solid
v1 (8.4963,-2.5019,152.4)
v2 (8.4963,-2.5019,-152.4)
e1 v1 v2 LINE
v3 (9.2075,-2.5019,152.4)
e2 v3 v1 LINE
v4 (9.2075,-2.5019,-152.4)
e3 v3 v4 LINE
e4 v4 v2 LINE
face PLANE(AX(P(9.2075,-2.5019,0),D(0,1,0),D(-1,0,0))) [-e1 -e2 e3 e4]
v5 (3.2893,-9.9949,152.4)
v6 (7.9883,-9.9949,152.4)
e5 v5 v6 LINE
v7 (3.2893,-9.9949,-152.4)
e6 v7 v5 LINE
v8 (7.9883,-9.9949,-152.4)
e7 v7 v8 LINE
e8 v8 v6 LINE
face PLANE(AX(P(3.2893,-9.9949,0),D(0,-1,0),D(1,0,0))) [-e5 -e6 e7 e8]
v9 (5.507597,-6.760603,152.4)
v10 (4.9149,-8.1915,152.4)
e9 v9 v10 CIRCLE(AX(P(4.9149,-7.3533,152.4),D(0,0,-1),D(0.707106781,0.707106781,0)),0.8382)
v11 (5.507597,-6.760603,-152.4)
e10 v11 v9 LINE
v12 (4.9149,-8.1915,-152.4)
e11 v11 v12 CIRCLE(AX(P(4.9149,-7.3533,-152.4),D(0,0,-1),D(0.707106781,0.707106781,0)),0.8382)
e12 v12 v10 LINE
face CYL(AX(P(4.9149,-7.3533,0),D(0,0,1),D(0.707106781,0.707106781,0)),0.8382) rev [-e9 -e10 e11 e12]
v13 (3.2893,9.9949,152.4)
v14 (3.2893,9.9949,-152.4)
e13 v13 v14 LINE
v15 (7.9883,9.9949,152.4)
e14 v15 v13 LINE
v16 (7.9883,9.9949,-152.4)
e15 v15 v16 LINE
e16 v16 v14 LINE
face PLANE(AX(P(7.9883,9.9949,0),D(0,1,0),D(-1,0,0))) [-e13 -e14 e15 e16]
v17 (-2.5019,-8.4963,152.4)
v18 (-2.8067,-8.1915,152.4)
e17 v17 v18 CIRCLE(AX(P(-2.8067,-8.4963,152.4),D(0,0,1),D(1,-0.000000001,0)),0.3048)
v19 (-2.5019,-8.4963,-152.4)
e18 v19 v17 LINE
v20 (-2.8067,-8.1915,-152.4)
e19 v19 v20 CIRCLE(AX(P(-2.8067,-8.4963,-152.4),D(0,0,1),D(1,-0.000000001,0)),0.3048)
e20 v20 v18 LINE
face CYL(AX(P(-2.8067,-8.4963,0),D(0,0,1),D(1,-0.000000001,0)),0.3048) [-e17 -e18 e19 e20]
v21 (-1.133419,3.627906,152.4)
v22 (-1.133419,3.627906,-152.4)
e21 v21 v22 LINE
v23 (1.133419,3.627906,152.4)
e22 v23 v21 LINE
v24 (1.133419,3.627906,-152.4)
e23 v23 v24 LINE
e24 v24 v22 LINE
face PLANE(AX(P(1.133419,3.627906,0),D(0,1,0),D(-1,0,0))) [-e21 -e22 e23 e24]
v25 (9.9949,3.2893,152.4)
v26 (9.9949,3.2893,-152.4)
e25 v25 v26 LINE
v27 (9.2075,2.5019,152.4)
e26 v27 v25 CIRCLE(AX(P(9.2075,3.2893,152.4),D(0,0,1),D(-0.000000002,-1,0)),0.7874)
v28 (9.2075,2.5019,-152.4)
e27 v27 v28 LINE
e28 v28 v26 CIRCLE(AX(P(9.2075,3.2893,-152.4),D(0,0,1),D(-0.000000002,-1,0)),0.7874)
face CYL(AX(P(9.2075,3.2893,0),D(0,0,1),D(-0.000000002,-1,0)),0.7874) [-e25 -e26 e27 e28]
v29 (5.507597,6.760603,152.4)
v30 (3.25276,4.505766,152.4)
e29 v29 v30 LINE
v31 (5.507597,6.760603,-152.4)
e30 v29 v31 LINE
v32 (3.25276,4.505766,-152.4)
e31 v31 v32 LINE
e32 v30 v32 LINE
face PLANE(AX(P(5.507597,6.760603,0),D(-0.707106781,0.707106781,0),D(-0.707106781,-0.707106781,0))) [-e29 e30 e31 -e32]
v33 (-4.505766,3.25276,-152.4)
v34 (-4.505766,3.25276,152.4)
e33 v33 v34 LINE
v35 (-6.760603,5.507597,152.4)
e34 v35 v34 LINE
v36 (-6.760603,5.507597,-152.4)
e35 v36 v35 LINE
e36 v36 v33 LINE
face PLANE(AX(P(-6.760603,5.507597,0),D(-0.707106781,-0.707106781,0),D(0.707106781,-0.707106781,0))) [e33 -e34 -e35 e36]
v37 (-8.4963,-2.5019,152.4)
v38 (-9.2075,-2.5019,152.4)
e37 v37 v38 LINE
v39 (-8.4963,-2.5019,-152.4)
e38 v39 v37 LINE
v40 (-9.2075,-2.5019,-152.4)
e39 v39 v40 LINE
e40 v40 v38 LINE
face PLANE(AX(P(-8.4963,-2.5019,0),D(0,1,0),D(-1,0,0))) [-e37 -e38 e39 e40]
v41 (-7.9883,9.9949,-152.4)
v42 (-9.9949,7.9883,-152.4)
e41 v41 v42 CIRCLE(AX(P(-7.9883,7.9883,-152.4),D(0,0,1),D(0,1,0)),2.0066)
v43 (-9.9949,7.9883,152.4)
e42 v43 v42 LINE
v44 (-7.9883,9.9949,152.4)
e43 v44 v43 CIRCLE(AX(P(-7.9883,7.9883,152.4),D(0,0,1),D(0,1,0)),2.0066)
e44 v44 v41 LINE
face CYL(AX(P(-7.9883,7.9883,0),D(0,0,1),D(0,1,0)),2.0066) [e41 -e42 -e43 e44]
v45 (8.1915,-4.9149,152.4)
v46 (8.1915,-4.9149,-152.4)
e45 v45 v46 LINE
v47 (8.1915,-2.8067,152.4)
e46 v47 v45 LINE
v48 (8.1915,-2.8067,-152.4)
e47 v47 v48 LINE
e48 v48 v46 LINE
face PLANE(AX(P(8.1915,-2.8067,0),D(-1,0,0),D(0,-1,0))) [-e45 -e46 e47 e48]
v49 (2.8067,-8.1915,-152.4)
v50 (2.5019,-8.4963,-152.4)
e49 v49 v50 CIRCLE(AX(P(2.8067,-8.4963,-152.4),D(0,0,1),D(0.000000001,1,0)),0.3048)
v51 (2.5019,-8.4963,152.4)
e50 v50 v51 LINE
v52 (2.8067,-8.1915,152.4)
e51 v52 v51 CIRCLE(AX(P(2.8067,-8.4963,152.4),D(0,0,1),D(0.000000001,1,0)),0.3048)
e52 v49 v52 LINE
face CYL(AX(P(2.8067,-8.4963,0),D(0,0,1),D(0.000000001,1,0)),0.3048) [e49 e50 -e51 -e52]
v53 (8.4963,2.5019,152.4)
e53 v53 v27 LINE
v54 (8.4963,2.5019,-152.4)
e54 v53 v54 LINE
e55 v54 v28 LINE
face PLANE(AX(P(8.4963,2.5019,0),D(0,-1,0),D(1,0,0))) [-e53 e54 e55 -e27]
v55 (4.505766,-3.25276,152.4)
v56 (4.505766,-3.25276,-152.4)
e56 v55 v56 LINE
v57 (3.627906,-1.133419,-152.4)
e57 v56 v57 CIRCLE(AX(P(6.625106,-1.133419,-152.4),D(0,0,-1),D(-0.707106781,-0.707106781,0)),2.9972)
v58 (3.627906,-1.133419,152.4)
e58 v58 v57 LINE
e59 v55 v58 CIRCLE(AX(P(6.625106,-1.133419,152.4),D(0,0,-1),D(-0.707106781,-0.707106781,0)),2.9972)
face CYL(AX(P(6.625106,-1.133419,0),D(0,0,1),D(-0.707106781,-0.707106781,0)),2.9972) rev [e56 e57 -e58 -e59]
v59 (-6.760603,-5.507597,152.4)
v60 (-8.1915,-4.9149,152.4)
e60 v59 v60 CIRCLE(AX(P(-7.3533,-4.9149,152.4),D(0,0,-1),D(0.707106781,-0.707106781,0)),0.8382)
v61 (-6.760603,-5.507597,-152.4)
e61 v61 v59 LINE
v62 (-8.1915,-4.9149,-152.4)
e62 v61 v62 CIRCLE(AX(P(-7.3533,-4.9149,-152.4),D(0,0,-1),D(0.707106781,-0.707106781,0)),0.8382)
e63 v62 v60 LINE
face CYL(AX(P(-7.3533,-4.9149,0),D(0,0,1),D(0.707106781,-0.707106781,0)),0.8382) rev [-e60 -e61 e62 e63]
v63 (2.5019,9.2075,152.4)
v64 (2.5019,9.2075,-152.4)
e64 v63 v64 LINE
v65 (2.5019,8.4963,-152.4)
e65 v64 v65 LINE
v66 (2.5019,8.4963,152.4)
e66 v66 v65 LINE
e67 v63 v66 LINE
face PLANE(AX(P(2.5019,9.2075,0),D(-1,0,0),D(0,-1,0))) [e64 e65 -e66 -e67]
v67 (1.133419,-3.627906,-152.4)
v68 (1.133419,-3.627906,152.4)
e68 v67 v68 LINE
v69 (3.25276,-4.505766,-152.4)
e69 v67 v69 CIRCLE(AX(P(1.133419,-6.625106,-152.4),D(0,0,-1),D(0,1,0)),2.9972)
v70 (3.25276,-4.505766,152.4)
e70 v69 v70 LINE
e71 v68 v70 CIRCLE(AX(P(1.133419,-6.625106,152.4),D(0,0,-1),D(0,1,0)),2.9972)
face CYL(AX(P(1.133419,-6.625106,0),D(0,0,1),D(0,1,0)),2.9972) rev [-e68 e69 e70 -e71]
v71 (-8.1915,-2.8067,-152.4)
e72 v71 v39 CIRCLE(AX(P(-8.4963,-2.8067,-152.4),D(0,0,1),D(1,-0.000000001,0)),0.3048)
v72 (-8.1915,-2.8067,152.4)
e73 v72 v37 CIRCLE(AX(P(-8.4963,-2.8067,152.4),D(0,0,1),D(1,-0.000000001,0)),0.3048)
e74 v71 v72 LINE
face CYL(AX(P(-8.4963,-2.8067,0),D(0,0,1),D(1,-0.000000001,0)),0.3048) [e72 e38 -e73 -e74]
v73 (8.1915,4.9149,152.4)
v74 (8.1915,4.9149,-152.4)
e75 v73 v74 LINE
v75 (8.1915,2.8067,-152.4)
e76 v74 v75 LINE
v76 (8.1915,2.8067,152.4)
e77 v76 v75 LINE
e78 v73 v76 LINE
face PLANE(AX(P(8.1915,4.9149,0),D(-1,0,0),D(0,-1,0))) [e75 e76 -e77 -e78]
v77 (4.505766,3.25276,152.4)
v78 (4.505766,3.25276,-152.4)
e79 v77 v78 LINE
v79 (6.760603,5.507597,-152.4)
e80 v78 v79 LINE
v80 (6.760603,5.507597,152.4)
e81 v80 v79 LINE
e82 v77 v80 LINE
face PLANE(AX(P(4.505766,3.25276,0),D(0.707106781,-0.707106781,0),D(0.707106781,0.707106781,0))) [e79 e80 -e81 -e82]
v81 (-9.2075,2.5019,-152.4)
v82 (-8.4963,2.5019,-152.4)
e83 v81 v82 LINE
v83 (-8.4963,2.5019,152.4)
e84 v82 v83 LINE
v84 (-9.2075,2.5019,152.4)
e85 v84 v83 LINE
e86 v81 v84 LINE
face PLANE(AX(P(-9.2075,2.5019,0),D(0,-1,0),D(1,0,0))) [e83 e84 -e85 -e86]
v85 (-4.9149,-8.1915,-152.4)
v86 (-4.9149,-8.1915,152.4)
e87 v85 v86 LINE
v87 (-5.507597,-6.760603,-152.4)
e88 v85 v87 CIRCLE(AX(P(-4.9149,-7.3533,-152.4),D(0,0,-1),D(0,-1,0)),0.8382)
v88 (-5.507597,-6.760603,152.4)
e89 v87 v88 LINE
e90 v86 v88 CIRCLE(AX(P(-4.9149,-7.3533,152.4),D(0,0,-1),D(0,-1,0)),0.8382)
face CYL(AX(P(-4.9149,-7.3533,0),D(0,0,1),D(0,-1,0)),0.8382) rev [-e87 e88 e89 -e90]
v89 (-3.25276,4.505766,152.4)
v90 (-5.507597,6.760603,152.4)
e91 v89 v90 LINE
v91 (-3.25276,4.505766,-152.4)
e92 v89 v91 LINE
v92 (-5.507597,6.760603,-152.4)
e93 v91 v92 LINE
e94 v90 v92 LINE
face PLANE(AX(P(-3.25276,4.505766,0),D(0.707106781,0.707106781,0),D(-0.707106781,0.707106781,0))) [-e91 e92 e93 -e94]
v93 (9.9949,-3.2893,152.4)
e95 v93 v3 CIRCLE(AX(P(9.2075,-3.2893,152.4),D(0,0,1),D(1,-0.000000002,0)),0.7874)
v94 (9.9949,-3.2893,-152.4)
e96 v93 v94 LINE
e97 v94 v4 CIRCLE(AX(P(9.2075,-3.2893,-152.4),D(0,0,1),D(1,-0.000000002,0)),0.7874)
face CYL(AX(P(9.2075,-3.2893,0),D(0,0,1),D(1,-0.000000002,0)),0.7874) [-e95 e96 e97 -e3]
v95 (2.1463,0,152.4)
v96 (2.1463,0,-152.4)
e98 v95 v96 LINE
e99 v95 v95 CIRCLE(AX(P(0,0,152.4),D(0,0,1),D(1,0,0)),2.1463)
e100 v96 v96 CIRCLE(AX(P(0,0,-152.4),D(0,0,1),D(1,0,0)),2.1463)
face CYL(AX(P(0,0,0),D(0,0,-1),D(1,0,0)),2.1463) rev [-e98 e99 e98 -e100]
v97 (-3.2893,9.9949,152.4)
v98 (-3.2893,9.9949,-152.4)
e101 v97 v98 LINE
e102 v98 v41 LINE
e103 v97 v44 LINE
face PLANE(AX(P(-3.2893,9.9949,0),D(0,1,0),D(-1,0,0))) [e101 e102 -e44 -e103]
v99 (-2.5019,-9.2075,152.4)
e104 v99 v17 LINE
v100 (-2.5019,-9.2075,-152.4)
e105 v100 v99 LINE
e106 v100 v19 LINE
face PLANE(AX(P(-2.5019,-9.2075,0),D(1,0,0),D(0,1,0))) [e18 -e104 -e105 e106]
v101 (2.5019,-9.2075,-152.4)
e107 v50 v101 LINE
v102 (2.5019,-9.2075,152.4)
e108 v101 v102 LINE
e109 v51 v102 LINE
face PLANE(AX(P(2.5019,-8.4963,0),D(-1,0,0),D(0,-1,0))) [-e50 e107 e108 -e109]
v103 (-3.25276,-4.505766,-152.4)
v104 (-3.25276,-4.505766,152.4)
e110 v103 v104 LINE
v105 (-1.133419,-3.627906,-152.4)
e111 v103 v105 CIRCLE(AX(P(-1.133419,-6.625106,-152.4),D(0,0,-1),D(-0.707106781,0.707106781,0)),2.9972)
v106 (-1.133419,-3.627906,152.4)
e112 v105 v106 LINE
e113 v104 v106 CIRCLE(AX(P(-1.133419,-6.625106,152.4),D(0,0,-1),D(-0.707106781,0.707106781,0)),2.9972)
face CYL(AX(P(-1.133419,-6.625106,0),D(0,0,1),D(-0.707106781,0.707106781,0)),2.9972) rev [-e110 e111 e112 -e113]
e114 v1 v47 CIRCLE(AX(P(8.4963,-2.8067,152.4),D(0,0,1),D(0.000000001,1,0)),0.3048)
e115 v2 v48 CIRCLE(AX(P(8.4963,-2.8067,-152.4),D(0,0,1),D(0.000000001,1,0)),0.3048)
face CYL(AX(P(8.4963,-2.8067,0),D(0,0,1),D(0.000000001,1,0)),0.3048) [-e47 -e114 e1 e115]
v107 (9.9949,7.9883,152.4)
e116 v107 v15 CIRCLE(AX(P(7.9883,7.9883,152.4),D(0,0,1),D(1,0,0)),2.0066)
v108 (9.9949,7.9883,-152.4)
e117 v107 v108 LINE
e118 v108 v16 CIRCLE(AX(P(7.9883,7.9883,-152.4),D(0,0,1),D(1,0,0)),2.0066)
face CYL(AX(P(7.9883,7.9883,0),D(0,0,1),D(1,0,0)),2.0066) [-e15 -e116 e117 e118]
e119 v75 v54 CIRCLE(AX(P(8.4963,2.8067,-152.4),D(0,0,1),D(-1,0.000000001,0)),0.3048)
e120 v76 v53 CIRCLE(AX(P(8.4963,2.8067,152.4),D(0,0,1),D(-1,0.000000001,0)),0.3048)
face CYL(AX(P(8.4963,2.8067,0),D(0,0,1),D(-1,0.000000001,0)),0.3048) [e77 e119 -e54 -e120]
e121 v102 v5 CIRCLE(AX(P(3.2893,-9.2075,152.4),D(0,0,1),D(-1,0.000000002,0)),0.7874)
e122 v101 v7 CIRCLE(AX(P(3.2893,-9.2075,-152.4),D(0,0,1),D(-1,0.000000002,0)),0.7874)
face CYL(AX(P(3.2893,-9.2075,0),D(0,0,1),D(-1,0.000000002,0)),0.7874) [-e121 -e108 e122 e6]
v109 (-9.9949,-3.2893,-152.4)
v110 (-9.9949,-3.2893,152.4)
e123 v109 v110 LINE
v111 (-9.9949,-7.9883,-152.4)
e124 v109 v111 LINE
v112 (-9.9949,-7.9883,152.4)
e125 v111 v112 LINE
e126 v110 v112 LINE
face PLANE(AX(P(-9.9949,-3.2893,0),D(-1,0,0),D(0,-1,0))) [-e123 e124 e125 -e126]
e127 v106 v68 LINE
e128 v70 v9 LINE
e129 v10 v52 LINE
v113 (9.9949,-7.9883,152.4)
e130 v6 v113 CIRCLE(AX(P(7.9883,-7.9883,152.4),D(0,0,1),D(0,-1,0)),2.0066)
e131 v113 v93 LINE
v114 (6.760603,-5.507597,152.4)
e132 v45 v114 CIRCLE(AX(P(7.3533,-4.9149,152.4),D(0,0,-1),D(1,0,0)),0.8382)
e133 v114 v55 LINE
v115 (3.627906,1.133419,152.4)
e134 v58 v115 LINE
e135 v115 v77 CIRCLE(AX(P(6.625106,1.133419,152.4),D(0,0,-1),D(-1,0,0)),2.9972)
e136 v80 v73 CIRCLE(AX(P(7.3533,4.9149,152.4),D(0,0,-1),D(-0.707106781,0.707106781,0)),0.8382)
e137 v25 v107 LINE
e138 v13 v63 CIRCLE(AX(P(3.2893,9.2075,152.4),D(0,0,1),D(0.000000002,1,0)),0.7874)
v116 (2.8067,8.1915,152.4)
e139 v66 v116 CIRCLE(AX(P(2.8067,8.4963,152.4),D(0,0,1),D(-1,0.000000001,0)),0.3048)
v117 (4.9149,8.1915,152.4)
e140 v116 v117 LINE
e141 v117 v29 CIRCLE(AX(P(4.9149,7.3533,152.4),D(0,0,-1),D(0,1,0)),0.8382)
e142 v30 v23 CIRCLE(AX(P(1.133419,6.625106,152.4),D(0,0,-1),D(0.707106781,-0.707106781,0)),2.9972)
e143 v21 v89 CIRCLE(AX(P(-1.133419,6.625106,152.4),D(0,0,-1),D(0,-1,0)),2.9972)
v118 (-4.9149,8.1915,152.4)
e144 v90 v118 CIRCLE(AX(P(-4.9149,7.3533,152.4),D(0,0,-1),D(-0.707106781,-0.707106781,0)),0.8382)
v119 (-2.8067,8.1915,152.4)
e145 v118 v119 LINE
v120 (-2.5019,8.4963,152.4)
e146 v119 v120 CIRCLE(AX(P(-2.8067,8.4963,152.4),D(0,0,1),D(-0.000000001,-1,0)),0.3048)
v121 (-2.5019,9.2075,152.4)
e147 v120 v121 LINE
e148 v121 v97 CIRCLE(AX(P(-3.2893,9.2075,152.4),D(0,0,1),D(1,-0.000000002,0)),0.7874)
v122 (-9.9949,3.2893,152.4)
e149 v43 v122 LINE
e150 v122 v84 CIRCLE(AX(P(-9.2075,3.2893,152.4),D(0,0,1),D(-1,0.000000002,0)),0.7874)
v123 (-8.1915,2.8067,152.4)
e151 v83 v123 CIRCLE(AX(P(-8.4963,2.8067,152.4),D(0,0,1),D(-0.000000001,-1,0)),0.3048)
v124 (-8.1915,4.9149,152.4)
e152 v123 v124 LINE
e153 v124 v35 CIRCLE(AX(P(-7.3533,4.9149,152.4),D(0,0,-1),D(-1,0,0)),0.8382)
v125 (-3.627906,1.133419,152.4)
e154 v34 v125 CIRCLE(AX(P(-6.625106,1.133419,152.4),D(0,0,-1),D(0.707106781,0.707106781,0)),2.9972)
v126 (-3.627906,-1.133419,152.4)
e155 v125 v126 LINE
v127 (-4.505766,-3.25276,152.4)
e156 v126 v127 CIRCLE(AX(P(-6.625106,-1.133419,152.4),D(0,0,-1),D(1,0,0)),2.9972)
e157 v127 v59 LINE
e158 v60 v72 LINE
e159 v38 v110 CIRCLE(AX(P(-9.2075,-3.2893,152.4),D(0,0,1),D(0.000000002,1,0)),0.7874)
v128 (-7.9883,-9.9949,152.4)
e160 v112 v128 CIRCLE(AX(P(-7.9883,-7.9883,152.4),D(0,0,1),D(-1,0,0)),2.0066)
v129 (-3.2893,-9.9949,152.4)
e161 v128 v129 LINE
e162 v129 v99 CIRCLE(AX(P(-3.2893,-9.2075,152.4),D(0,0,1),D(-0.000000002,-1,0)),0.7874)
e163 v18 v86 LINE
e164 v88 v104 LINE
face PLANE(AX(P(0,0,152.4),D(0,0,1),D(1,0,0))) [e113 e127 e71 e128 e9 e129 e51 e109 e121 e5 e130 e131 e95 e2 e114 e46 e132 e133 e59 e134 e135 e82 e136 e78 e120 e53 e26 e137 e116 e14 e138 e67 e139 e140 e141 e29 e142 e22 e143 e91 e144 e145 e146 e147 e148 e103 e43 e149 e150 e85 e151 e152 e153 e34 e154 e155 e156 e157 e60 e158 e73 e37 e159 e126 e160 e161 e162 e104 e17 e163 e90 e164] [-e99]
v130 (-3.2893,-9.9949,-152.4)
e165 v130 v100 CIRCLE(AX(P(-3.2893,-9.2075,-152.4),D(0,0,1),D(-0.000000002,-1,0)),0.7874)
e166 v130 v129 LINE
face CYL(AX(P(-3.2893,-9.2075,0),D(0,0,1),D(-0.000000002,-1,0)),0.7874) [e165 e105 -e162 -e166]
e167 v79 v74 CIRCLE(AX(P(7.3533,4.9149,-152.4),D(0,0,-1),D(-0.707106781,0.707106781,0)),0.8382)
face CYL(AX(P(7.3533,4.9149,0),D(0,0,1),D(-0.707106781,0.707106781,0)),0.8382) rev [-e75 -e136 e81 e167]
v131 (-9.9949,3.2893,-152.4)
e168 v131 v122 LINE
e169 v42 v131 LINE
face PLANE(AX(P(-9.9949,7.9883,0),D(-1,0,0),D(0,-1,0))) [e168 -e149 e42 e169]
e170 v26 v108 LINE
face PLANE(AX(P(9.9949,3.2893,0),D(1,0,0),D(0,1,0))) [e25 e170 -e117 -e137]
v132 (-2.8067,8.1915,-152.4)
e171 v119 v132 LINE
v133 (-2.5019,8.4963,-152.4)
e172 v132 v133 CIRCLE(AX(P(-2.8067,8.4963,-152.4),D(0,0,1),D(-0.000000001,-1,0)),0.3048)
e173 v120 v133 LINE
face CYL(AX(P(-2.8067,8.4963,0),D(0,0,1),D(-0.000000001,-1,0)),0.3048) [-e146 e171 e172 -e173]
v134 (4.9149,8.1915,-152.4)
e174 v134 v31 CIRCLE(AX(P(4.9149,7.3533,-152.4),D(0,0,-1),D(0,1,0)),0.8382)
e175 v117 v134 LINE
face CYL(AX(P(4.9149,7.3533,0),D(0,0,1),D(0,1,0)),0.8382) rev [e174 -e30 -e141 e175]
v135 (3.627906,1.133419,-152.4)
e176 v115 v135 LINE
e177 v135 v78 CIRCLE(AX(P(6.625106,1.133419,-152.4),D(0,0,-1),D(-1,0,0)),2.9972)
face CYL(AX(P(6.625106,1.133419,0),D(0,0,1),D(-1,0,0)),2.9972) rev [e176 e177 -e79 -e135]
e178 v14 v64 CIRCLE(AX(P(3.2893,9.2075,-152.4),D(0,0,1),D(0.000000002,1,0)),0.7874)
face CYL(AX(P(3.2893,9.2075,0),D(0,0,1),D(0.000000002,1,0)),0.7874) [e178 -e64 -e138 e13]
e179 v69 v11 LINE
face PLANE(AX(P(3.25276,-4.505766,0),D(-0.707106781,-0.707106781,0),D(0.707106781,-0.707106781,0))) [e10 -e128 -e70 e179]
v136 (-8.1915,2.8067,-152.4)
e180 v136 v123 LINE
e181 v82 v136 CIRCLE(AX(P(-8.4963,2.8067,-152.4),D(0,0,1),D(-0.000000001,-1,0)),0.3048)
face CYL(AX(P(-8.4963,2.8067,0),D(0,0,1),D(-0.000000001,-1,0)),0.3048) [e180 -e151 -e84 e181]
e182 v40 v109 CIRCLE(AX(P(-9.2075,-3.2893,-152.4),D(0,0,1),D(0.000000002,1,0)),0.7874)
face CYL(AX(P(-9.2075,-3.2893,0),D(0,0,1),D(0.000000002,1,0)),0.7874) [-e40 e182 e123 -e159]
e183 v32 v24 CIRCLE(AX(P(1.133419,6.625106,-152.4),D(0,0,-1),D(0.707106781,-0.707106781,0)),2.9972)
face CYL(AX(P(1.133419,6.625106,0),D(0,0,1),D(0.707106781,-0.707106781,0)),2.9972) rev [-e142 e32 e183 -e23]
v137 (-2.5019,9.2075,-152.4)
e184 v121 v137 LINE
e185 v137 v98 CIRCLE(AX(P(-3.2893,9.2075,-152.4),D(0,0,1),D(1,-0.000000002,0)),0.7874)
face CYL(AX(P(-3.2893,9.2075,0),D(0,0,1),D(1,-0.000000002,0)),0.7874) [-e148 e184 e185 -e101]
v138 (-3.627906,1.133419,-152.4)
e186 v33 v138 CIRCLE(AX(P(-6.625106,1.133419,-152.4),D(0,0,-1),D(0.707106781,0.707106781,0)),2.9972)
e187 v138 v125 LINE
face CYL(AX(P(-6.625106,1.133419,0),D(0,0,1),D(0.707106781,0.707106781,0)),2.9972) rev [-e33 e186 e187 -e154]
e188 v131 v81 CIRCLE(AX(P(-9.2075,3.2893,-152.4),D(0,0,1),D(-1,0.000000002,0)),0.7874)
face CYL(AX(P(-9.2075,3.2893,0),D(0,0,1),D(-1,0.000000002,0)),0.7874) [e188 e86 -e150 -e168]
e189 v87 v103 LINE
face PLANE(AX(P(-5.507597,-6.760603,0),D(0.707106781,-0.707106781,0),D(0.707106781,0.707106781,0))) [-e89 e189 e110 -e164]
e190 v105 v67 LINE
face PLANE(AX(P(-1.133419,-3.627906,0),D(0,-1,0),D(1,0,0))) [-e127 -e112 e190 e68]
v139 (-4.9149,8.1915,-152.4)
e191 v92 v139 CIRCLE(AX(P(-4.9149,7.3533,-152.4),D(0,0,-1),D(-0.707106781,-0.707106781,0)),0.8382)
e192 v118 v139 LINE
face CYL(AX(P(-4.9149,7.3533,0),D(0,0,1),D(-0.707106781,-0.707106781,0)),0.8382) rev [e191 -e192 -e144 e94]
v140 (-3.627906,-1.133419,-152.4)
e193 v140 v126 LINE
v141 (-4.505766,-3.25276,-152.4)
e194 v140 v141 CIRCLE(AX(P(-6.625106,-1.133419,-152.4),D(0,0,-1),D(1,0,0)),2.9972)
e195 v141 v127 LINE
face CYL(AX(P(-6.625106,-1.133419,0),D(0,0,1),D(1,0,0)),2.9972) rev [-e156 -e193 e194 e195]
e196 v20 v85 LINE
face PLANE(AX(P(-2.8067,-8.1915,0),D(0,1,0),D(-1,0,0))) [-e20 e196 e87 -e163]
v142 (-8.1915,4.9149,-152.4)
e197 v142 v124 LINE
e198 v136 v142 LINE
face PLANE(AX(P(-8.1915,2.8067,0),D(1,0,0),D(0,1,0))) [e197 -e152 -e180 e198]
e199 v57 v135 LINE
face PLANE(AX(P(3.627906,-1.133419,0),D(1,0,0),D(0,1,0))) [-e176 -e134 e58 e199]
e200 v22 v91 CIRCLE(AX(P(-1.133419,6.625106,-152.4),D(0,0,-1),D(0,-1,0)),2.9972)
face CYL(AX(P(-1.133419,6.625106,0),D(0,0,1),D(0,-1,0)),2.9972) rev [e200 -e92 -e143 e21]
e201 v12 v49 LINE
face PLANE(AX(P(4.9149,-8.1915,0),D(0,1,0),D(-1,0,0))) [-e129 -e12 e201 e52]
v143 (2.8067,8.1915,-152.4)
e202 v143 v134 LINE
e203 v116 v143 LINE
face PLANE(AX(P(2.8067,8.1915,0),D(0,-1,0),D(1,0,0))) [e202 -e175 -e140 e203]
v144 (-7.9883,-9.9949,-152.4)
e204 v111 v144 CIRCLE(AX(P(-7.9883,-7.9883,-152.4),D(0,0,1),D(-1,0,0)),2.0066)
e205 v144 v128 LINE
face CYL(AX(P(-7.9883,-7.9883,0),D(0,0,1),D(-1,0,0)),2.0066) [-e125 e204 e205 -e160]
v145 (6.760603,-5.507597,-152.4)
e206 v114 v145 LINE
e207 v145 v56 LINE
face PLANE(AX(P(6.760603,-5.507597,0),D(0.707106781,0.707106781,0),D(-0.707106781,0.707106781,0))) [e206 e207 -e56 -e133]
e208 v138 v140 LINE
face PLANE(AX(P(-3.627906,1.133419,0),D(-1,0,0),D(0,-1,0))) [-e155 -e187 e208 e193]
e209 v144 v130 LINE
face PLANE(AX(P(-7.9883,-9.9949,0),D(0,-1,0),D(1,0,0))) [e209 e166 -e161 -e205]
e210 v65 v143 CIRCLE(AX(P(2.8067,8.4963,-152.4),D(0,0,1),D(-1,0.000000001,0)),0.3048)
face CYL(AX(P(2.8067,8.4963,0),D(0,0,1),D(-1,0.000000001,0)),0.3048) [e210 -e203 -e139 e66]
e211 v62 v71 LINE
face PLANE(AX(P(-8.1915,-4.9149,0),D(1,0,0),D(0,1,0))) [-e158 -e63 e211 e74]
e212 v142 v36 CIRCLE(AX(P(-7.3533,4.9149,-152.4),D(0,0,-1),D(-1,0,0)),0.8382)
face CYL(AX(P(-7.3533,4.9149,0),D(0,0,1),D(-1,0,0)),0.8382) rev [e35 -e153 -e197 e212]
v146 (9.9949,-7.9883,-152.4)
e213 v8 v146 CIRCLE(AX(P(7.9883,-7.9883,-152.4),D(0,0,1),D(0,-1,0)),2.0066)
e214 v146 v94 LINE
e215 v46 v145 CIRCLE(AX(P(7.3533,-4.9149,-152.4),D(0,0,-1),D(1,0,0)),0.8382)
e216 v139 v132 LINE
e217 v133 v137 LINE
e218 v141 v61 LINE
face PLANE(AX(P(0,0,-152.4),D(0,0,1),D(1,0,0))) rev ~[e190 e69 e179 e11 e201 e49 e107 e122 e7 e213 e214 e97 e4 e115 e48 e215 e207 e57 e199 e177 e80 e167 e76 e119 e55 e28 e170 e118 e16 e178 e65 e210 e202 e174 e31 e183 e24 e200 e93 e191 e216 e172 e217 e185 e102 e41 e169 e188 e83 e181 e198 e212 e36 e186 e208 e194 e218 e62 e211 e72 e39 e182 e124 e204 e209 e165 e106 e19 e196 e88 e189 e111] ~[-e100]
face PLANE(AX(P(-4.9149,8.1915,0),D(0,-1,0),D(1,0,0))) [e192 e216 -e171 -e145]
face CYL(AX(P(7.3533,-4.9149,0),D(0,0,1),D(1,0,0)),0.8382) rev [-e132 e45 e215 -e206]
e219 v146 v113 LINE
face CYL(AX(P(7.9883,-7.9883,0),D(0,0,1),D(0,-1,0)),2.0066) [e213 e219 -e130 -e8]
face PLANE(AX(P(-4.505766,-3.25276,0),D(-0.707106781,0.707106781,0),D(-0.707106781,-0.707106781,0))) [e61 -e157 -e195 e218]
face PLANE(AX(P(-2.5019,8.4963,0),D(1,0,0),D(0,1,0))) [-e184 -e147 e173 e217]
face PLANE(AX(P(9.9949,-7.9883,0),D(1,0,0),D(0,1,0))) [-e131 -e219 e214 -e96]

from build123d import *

# Parameters (mm, degrees)
SKETCH1_R           = 2.1463
BOSS_EXTRUDE1_DEPTH = 152.4


with BuildPart() as part:
    # Sketch1 → Boss-Extrude1 (new, symmetric)
    with BuildSketch(Plane.XY):
        with BuildLine():
            Line((-9.9949, 7.9883), (-9.9949, 3.2893))
            ThreePointArc((-9.9949, 3.2893), (-9.76427588, 2.73252412), (-9.2075, 2.5019))
            Line((-9.2075, 2.5019), (-8.4963, 2.5019))
            ThreePointArc((-8.4963, 2.5019), (-8.280773853, 2.591173853), (-8.1915, 2.8067))
            Line((-8.1915, 2.8067), (-8.1915, 4.9149))
            ThreePointArc((-8.1915, 4.9149), (-7.674065253, 5.689295824), (-6.760603096, 5.507596904))
            Line((-6.760603096, 5.507596904), (-4.505765747, 3.252759555))
            ThreePointArc((-4.505765747, 3.252759555), (-3.856054457, 2.280397894), (-3.627906192, 1.133419111))
            Line((-3.627906192, 1.133419111), (-3.627906192, -1.133419111))
            ThreePointArc((-3.627906192, -1.133419111), (-3.856054457, -2.280397894), (-4.505765747, -3.252759555))
            Line((-4.505765747, -3.252759555), (-6.760603096, -5.507596904))
            ThreePointArc((-6.760603096, -5.507596904), (-7.674065253, -5.689295824), (-8.1915, -4.9149))
            Line((-8.1915, -4.9149), (-8.1915, -2.8067))
            ThreePointArc((-8.1915, -2.8067), (-8.280773853, -2.591173853), (-8.4963, -2.5019))
            Line((-8.4963, -2.5019), (-9.2075, -2.5019))
            ThreePointArc((-9.2075, -2.5019), (-9.76427588, -2.73252412), (-9.9949, -3.2893))
            Line((-9.9949, -3.2893), (-9.9949, -7.9883))
            ThreePointArc((-9.9949, -7.9883), (-9.407180467, -9.407180467), (-7.9883, -9.9949))
            Line((-7.9883, -9.9949), (-3.2893, -9.9949))
            ThreePointArc((-3.2893, -9.9949), (-2.73252412, -9.76427588), (-2.5019, -9.2075))
            Line((-2.5019, -9.2075), (-2.5019, -8.4963))
            ThreePointArc((-2.5019, -8.4963), (-2.591173853, -8.280773853), (-2.8067, -8.1915))
            Line((-2.8067, -8.1915), (-4.9149, -8.1915))
            ThreePointArc((-4.9149, -8.1915), (-5.689295824, -7.674065253), (-5.507596904, -6.760603096))
            Line((-5.507596904, -6.760603096), (-3.252759555, -4.505765747))
            ThreePointArc((-3.252759555, -4.505765747), (-2.280397894, -3.856054457), (-1.133419111, -3.627906192))
            Line((-1.133419111, -3.627906192), (1.133419111, -3.627906192))
            ThreePointArc((1.133419111, -3.627906192), (2.280397894, -3.856054457), (3.252759555, -4.505765747))
            Line((3.252759555, -4.505765747), (5.507596904, -6.760603096))
            ThreePointArc((5.507596904, -6.760603096), (5.689295824, -7.674065253), (4.9149, -8.1915))
            Line((4.9149, -8.1915), (2.8067, -8.1915))
            ThreePointArc((2.8067, -8.1915), (2.591173853, -8.280773853), (2.5019, -8.4963))
            Line((2.5019, -8.4963), (2.5019, -9.2075))
            ThreePointArc((2.5019, -9.2075), (2.73252412, -9.76427588), (3.2893, -9.9949))
            Line((3.2893, -9.9949), (7.9883, -9.9949))
            ThreePointArc((7.9883, -9.9949), (9.407180467, -9.407180467), (9.9949, -7.9883))
            Line((9.9949, -7.9883), (9.9949, -3.2893))
            ThreePointArc((9.9949, -3.2893), (9.76427588, -2.73252412), (9.2075, -2.5019))
            Line((9.2075, -2.5019), (8.4963, -2.5019))
            ThreePointArc((8.4963, -2.5019), (8.280773853, -2.591173853), (8.1915, -2.8067))
            Line((8.1915, -2.8067), (8.1915, -4.9149))
            ThreePointArc((8.1915, -4.9149), (7.674065253, -5.689295824), (6.760603096, -5.507596904))
            Line((6.760603096, -5.507596904), (4.505765747, -3.252759555))
            ThreePointArc((4.505765747, -3.252759555), (3.856054457, -2.280397894), (3.627906192, -1.133419111))
            Line((3.627906192, -1.133419111), (3.627906192, 1.133419111))
            ThreePointArc((3.627906192, 1.133419111), (3.856054457, 2.280397894), (4.505765747, 3.252759555))
            Line((4.505765747, 3.252759555), (6.760603096, 5.507596904))
            ThreePointArc((6.760603096, 5.507596904), (7.674065253, 5.689295824), (8.1915, 4.9149))
            Line((8.1915, 4.9149), (8.1915, 2.8067))
            ThreePointArc((8.1915, 2.8067), (8.280773853, 2.591173853), (8.4963, 2.5019))
            Line((8.4963, 2.5019), (9.2075, 2.5019))
            ThreePointArc((9.2075, 2.5019), (9.76427588, 2.73252412), (9.9949, 3.2893))
            Line((9.9949, 3.2893), (9.9949, 7.9883))
            ThreePointArc((9.9949, 7.9883), (9.407180467, 9.407180467), (7.9883, 9.9949))
            Line((7.9883, 9.9949), (3.2893, 9.9949))
            ThreePointArc((3.2893, 9.9949), (2.73252412, 9.76427588), (2.5019, 9.2075))
            Line((2.5019, 9.2075), (2.5019, 8.4963))
            ThreePointArc((2.5019, 8.4963), (2.591173853, 8.280773853), (2.8067, 8.1915))
            Line((2.8067, 8.1915), (4.9149, 8.1915))
            ThreePointArc((4.9149, 8.1915), (5.689295824, 7.674065253), (5.507596904, 6.760603096))
            Line((5.507596904, 6.760603096), (3.252759555, 4.505765747))
            ThreePointArc((3.252759555, 4.505765747), (2.280397894, 3.856054457), (1.133419111, 3.627906192))
            Line((1.133419111, 3.627906192), (-1.133419111, 3.627906192))
            ThreePointArc((-1.133419111, 3.627906192), (-2.280397894, 3.856054457), (-3.252759555, 4.505765747))
            Line((-3.252759555, 4.505765747), (-5.507596904, 6.760603096))
            ThreePointArc((-5.507596904, 6.760603096), (-5.689295824, 7.674065253), (-4.9149, 8.1915))
            Line((-4.9149, 8.1915), (-2.8067, 8.1915))
            ThreePointArc((-2.8067, 8.1915), (-2.591173853, 8.280773853), (-2.5019, 8.4963))
            Line((-2.5019, 8.4963), (-2.5019, 9.2075))
            ThreePointArc((-2.5019, 9.2075), (-2.73252412, 9.76427588), (-3.2893, 9.9949))
            Line((-3.2893, 9.9949), (-7.9883, 9.9949))
            ThreePointArc((-7.9883, 9.9949), (-9.407180467, 9.407180467), (-9.9949, 7.9883))
        make_face()
        Circle(SKETCH1_R, mode=Mode.SUBTRACT)
    extrude(amount=BOSS_EXTRUDE1_DEPTH, both=True)


solid = part.part
